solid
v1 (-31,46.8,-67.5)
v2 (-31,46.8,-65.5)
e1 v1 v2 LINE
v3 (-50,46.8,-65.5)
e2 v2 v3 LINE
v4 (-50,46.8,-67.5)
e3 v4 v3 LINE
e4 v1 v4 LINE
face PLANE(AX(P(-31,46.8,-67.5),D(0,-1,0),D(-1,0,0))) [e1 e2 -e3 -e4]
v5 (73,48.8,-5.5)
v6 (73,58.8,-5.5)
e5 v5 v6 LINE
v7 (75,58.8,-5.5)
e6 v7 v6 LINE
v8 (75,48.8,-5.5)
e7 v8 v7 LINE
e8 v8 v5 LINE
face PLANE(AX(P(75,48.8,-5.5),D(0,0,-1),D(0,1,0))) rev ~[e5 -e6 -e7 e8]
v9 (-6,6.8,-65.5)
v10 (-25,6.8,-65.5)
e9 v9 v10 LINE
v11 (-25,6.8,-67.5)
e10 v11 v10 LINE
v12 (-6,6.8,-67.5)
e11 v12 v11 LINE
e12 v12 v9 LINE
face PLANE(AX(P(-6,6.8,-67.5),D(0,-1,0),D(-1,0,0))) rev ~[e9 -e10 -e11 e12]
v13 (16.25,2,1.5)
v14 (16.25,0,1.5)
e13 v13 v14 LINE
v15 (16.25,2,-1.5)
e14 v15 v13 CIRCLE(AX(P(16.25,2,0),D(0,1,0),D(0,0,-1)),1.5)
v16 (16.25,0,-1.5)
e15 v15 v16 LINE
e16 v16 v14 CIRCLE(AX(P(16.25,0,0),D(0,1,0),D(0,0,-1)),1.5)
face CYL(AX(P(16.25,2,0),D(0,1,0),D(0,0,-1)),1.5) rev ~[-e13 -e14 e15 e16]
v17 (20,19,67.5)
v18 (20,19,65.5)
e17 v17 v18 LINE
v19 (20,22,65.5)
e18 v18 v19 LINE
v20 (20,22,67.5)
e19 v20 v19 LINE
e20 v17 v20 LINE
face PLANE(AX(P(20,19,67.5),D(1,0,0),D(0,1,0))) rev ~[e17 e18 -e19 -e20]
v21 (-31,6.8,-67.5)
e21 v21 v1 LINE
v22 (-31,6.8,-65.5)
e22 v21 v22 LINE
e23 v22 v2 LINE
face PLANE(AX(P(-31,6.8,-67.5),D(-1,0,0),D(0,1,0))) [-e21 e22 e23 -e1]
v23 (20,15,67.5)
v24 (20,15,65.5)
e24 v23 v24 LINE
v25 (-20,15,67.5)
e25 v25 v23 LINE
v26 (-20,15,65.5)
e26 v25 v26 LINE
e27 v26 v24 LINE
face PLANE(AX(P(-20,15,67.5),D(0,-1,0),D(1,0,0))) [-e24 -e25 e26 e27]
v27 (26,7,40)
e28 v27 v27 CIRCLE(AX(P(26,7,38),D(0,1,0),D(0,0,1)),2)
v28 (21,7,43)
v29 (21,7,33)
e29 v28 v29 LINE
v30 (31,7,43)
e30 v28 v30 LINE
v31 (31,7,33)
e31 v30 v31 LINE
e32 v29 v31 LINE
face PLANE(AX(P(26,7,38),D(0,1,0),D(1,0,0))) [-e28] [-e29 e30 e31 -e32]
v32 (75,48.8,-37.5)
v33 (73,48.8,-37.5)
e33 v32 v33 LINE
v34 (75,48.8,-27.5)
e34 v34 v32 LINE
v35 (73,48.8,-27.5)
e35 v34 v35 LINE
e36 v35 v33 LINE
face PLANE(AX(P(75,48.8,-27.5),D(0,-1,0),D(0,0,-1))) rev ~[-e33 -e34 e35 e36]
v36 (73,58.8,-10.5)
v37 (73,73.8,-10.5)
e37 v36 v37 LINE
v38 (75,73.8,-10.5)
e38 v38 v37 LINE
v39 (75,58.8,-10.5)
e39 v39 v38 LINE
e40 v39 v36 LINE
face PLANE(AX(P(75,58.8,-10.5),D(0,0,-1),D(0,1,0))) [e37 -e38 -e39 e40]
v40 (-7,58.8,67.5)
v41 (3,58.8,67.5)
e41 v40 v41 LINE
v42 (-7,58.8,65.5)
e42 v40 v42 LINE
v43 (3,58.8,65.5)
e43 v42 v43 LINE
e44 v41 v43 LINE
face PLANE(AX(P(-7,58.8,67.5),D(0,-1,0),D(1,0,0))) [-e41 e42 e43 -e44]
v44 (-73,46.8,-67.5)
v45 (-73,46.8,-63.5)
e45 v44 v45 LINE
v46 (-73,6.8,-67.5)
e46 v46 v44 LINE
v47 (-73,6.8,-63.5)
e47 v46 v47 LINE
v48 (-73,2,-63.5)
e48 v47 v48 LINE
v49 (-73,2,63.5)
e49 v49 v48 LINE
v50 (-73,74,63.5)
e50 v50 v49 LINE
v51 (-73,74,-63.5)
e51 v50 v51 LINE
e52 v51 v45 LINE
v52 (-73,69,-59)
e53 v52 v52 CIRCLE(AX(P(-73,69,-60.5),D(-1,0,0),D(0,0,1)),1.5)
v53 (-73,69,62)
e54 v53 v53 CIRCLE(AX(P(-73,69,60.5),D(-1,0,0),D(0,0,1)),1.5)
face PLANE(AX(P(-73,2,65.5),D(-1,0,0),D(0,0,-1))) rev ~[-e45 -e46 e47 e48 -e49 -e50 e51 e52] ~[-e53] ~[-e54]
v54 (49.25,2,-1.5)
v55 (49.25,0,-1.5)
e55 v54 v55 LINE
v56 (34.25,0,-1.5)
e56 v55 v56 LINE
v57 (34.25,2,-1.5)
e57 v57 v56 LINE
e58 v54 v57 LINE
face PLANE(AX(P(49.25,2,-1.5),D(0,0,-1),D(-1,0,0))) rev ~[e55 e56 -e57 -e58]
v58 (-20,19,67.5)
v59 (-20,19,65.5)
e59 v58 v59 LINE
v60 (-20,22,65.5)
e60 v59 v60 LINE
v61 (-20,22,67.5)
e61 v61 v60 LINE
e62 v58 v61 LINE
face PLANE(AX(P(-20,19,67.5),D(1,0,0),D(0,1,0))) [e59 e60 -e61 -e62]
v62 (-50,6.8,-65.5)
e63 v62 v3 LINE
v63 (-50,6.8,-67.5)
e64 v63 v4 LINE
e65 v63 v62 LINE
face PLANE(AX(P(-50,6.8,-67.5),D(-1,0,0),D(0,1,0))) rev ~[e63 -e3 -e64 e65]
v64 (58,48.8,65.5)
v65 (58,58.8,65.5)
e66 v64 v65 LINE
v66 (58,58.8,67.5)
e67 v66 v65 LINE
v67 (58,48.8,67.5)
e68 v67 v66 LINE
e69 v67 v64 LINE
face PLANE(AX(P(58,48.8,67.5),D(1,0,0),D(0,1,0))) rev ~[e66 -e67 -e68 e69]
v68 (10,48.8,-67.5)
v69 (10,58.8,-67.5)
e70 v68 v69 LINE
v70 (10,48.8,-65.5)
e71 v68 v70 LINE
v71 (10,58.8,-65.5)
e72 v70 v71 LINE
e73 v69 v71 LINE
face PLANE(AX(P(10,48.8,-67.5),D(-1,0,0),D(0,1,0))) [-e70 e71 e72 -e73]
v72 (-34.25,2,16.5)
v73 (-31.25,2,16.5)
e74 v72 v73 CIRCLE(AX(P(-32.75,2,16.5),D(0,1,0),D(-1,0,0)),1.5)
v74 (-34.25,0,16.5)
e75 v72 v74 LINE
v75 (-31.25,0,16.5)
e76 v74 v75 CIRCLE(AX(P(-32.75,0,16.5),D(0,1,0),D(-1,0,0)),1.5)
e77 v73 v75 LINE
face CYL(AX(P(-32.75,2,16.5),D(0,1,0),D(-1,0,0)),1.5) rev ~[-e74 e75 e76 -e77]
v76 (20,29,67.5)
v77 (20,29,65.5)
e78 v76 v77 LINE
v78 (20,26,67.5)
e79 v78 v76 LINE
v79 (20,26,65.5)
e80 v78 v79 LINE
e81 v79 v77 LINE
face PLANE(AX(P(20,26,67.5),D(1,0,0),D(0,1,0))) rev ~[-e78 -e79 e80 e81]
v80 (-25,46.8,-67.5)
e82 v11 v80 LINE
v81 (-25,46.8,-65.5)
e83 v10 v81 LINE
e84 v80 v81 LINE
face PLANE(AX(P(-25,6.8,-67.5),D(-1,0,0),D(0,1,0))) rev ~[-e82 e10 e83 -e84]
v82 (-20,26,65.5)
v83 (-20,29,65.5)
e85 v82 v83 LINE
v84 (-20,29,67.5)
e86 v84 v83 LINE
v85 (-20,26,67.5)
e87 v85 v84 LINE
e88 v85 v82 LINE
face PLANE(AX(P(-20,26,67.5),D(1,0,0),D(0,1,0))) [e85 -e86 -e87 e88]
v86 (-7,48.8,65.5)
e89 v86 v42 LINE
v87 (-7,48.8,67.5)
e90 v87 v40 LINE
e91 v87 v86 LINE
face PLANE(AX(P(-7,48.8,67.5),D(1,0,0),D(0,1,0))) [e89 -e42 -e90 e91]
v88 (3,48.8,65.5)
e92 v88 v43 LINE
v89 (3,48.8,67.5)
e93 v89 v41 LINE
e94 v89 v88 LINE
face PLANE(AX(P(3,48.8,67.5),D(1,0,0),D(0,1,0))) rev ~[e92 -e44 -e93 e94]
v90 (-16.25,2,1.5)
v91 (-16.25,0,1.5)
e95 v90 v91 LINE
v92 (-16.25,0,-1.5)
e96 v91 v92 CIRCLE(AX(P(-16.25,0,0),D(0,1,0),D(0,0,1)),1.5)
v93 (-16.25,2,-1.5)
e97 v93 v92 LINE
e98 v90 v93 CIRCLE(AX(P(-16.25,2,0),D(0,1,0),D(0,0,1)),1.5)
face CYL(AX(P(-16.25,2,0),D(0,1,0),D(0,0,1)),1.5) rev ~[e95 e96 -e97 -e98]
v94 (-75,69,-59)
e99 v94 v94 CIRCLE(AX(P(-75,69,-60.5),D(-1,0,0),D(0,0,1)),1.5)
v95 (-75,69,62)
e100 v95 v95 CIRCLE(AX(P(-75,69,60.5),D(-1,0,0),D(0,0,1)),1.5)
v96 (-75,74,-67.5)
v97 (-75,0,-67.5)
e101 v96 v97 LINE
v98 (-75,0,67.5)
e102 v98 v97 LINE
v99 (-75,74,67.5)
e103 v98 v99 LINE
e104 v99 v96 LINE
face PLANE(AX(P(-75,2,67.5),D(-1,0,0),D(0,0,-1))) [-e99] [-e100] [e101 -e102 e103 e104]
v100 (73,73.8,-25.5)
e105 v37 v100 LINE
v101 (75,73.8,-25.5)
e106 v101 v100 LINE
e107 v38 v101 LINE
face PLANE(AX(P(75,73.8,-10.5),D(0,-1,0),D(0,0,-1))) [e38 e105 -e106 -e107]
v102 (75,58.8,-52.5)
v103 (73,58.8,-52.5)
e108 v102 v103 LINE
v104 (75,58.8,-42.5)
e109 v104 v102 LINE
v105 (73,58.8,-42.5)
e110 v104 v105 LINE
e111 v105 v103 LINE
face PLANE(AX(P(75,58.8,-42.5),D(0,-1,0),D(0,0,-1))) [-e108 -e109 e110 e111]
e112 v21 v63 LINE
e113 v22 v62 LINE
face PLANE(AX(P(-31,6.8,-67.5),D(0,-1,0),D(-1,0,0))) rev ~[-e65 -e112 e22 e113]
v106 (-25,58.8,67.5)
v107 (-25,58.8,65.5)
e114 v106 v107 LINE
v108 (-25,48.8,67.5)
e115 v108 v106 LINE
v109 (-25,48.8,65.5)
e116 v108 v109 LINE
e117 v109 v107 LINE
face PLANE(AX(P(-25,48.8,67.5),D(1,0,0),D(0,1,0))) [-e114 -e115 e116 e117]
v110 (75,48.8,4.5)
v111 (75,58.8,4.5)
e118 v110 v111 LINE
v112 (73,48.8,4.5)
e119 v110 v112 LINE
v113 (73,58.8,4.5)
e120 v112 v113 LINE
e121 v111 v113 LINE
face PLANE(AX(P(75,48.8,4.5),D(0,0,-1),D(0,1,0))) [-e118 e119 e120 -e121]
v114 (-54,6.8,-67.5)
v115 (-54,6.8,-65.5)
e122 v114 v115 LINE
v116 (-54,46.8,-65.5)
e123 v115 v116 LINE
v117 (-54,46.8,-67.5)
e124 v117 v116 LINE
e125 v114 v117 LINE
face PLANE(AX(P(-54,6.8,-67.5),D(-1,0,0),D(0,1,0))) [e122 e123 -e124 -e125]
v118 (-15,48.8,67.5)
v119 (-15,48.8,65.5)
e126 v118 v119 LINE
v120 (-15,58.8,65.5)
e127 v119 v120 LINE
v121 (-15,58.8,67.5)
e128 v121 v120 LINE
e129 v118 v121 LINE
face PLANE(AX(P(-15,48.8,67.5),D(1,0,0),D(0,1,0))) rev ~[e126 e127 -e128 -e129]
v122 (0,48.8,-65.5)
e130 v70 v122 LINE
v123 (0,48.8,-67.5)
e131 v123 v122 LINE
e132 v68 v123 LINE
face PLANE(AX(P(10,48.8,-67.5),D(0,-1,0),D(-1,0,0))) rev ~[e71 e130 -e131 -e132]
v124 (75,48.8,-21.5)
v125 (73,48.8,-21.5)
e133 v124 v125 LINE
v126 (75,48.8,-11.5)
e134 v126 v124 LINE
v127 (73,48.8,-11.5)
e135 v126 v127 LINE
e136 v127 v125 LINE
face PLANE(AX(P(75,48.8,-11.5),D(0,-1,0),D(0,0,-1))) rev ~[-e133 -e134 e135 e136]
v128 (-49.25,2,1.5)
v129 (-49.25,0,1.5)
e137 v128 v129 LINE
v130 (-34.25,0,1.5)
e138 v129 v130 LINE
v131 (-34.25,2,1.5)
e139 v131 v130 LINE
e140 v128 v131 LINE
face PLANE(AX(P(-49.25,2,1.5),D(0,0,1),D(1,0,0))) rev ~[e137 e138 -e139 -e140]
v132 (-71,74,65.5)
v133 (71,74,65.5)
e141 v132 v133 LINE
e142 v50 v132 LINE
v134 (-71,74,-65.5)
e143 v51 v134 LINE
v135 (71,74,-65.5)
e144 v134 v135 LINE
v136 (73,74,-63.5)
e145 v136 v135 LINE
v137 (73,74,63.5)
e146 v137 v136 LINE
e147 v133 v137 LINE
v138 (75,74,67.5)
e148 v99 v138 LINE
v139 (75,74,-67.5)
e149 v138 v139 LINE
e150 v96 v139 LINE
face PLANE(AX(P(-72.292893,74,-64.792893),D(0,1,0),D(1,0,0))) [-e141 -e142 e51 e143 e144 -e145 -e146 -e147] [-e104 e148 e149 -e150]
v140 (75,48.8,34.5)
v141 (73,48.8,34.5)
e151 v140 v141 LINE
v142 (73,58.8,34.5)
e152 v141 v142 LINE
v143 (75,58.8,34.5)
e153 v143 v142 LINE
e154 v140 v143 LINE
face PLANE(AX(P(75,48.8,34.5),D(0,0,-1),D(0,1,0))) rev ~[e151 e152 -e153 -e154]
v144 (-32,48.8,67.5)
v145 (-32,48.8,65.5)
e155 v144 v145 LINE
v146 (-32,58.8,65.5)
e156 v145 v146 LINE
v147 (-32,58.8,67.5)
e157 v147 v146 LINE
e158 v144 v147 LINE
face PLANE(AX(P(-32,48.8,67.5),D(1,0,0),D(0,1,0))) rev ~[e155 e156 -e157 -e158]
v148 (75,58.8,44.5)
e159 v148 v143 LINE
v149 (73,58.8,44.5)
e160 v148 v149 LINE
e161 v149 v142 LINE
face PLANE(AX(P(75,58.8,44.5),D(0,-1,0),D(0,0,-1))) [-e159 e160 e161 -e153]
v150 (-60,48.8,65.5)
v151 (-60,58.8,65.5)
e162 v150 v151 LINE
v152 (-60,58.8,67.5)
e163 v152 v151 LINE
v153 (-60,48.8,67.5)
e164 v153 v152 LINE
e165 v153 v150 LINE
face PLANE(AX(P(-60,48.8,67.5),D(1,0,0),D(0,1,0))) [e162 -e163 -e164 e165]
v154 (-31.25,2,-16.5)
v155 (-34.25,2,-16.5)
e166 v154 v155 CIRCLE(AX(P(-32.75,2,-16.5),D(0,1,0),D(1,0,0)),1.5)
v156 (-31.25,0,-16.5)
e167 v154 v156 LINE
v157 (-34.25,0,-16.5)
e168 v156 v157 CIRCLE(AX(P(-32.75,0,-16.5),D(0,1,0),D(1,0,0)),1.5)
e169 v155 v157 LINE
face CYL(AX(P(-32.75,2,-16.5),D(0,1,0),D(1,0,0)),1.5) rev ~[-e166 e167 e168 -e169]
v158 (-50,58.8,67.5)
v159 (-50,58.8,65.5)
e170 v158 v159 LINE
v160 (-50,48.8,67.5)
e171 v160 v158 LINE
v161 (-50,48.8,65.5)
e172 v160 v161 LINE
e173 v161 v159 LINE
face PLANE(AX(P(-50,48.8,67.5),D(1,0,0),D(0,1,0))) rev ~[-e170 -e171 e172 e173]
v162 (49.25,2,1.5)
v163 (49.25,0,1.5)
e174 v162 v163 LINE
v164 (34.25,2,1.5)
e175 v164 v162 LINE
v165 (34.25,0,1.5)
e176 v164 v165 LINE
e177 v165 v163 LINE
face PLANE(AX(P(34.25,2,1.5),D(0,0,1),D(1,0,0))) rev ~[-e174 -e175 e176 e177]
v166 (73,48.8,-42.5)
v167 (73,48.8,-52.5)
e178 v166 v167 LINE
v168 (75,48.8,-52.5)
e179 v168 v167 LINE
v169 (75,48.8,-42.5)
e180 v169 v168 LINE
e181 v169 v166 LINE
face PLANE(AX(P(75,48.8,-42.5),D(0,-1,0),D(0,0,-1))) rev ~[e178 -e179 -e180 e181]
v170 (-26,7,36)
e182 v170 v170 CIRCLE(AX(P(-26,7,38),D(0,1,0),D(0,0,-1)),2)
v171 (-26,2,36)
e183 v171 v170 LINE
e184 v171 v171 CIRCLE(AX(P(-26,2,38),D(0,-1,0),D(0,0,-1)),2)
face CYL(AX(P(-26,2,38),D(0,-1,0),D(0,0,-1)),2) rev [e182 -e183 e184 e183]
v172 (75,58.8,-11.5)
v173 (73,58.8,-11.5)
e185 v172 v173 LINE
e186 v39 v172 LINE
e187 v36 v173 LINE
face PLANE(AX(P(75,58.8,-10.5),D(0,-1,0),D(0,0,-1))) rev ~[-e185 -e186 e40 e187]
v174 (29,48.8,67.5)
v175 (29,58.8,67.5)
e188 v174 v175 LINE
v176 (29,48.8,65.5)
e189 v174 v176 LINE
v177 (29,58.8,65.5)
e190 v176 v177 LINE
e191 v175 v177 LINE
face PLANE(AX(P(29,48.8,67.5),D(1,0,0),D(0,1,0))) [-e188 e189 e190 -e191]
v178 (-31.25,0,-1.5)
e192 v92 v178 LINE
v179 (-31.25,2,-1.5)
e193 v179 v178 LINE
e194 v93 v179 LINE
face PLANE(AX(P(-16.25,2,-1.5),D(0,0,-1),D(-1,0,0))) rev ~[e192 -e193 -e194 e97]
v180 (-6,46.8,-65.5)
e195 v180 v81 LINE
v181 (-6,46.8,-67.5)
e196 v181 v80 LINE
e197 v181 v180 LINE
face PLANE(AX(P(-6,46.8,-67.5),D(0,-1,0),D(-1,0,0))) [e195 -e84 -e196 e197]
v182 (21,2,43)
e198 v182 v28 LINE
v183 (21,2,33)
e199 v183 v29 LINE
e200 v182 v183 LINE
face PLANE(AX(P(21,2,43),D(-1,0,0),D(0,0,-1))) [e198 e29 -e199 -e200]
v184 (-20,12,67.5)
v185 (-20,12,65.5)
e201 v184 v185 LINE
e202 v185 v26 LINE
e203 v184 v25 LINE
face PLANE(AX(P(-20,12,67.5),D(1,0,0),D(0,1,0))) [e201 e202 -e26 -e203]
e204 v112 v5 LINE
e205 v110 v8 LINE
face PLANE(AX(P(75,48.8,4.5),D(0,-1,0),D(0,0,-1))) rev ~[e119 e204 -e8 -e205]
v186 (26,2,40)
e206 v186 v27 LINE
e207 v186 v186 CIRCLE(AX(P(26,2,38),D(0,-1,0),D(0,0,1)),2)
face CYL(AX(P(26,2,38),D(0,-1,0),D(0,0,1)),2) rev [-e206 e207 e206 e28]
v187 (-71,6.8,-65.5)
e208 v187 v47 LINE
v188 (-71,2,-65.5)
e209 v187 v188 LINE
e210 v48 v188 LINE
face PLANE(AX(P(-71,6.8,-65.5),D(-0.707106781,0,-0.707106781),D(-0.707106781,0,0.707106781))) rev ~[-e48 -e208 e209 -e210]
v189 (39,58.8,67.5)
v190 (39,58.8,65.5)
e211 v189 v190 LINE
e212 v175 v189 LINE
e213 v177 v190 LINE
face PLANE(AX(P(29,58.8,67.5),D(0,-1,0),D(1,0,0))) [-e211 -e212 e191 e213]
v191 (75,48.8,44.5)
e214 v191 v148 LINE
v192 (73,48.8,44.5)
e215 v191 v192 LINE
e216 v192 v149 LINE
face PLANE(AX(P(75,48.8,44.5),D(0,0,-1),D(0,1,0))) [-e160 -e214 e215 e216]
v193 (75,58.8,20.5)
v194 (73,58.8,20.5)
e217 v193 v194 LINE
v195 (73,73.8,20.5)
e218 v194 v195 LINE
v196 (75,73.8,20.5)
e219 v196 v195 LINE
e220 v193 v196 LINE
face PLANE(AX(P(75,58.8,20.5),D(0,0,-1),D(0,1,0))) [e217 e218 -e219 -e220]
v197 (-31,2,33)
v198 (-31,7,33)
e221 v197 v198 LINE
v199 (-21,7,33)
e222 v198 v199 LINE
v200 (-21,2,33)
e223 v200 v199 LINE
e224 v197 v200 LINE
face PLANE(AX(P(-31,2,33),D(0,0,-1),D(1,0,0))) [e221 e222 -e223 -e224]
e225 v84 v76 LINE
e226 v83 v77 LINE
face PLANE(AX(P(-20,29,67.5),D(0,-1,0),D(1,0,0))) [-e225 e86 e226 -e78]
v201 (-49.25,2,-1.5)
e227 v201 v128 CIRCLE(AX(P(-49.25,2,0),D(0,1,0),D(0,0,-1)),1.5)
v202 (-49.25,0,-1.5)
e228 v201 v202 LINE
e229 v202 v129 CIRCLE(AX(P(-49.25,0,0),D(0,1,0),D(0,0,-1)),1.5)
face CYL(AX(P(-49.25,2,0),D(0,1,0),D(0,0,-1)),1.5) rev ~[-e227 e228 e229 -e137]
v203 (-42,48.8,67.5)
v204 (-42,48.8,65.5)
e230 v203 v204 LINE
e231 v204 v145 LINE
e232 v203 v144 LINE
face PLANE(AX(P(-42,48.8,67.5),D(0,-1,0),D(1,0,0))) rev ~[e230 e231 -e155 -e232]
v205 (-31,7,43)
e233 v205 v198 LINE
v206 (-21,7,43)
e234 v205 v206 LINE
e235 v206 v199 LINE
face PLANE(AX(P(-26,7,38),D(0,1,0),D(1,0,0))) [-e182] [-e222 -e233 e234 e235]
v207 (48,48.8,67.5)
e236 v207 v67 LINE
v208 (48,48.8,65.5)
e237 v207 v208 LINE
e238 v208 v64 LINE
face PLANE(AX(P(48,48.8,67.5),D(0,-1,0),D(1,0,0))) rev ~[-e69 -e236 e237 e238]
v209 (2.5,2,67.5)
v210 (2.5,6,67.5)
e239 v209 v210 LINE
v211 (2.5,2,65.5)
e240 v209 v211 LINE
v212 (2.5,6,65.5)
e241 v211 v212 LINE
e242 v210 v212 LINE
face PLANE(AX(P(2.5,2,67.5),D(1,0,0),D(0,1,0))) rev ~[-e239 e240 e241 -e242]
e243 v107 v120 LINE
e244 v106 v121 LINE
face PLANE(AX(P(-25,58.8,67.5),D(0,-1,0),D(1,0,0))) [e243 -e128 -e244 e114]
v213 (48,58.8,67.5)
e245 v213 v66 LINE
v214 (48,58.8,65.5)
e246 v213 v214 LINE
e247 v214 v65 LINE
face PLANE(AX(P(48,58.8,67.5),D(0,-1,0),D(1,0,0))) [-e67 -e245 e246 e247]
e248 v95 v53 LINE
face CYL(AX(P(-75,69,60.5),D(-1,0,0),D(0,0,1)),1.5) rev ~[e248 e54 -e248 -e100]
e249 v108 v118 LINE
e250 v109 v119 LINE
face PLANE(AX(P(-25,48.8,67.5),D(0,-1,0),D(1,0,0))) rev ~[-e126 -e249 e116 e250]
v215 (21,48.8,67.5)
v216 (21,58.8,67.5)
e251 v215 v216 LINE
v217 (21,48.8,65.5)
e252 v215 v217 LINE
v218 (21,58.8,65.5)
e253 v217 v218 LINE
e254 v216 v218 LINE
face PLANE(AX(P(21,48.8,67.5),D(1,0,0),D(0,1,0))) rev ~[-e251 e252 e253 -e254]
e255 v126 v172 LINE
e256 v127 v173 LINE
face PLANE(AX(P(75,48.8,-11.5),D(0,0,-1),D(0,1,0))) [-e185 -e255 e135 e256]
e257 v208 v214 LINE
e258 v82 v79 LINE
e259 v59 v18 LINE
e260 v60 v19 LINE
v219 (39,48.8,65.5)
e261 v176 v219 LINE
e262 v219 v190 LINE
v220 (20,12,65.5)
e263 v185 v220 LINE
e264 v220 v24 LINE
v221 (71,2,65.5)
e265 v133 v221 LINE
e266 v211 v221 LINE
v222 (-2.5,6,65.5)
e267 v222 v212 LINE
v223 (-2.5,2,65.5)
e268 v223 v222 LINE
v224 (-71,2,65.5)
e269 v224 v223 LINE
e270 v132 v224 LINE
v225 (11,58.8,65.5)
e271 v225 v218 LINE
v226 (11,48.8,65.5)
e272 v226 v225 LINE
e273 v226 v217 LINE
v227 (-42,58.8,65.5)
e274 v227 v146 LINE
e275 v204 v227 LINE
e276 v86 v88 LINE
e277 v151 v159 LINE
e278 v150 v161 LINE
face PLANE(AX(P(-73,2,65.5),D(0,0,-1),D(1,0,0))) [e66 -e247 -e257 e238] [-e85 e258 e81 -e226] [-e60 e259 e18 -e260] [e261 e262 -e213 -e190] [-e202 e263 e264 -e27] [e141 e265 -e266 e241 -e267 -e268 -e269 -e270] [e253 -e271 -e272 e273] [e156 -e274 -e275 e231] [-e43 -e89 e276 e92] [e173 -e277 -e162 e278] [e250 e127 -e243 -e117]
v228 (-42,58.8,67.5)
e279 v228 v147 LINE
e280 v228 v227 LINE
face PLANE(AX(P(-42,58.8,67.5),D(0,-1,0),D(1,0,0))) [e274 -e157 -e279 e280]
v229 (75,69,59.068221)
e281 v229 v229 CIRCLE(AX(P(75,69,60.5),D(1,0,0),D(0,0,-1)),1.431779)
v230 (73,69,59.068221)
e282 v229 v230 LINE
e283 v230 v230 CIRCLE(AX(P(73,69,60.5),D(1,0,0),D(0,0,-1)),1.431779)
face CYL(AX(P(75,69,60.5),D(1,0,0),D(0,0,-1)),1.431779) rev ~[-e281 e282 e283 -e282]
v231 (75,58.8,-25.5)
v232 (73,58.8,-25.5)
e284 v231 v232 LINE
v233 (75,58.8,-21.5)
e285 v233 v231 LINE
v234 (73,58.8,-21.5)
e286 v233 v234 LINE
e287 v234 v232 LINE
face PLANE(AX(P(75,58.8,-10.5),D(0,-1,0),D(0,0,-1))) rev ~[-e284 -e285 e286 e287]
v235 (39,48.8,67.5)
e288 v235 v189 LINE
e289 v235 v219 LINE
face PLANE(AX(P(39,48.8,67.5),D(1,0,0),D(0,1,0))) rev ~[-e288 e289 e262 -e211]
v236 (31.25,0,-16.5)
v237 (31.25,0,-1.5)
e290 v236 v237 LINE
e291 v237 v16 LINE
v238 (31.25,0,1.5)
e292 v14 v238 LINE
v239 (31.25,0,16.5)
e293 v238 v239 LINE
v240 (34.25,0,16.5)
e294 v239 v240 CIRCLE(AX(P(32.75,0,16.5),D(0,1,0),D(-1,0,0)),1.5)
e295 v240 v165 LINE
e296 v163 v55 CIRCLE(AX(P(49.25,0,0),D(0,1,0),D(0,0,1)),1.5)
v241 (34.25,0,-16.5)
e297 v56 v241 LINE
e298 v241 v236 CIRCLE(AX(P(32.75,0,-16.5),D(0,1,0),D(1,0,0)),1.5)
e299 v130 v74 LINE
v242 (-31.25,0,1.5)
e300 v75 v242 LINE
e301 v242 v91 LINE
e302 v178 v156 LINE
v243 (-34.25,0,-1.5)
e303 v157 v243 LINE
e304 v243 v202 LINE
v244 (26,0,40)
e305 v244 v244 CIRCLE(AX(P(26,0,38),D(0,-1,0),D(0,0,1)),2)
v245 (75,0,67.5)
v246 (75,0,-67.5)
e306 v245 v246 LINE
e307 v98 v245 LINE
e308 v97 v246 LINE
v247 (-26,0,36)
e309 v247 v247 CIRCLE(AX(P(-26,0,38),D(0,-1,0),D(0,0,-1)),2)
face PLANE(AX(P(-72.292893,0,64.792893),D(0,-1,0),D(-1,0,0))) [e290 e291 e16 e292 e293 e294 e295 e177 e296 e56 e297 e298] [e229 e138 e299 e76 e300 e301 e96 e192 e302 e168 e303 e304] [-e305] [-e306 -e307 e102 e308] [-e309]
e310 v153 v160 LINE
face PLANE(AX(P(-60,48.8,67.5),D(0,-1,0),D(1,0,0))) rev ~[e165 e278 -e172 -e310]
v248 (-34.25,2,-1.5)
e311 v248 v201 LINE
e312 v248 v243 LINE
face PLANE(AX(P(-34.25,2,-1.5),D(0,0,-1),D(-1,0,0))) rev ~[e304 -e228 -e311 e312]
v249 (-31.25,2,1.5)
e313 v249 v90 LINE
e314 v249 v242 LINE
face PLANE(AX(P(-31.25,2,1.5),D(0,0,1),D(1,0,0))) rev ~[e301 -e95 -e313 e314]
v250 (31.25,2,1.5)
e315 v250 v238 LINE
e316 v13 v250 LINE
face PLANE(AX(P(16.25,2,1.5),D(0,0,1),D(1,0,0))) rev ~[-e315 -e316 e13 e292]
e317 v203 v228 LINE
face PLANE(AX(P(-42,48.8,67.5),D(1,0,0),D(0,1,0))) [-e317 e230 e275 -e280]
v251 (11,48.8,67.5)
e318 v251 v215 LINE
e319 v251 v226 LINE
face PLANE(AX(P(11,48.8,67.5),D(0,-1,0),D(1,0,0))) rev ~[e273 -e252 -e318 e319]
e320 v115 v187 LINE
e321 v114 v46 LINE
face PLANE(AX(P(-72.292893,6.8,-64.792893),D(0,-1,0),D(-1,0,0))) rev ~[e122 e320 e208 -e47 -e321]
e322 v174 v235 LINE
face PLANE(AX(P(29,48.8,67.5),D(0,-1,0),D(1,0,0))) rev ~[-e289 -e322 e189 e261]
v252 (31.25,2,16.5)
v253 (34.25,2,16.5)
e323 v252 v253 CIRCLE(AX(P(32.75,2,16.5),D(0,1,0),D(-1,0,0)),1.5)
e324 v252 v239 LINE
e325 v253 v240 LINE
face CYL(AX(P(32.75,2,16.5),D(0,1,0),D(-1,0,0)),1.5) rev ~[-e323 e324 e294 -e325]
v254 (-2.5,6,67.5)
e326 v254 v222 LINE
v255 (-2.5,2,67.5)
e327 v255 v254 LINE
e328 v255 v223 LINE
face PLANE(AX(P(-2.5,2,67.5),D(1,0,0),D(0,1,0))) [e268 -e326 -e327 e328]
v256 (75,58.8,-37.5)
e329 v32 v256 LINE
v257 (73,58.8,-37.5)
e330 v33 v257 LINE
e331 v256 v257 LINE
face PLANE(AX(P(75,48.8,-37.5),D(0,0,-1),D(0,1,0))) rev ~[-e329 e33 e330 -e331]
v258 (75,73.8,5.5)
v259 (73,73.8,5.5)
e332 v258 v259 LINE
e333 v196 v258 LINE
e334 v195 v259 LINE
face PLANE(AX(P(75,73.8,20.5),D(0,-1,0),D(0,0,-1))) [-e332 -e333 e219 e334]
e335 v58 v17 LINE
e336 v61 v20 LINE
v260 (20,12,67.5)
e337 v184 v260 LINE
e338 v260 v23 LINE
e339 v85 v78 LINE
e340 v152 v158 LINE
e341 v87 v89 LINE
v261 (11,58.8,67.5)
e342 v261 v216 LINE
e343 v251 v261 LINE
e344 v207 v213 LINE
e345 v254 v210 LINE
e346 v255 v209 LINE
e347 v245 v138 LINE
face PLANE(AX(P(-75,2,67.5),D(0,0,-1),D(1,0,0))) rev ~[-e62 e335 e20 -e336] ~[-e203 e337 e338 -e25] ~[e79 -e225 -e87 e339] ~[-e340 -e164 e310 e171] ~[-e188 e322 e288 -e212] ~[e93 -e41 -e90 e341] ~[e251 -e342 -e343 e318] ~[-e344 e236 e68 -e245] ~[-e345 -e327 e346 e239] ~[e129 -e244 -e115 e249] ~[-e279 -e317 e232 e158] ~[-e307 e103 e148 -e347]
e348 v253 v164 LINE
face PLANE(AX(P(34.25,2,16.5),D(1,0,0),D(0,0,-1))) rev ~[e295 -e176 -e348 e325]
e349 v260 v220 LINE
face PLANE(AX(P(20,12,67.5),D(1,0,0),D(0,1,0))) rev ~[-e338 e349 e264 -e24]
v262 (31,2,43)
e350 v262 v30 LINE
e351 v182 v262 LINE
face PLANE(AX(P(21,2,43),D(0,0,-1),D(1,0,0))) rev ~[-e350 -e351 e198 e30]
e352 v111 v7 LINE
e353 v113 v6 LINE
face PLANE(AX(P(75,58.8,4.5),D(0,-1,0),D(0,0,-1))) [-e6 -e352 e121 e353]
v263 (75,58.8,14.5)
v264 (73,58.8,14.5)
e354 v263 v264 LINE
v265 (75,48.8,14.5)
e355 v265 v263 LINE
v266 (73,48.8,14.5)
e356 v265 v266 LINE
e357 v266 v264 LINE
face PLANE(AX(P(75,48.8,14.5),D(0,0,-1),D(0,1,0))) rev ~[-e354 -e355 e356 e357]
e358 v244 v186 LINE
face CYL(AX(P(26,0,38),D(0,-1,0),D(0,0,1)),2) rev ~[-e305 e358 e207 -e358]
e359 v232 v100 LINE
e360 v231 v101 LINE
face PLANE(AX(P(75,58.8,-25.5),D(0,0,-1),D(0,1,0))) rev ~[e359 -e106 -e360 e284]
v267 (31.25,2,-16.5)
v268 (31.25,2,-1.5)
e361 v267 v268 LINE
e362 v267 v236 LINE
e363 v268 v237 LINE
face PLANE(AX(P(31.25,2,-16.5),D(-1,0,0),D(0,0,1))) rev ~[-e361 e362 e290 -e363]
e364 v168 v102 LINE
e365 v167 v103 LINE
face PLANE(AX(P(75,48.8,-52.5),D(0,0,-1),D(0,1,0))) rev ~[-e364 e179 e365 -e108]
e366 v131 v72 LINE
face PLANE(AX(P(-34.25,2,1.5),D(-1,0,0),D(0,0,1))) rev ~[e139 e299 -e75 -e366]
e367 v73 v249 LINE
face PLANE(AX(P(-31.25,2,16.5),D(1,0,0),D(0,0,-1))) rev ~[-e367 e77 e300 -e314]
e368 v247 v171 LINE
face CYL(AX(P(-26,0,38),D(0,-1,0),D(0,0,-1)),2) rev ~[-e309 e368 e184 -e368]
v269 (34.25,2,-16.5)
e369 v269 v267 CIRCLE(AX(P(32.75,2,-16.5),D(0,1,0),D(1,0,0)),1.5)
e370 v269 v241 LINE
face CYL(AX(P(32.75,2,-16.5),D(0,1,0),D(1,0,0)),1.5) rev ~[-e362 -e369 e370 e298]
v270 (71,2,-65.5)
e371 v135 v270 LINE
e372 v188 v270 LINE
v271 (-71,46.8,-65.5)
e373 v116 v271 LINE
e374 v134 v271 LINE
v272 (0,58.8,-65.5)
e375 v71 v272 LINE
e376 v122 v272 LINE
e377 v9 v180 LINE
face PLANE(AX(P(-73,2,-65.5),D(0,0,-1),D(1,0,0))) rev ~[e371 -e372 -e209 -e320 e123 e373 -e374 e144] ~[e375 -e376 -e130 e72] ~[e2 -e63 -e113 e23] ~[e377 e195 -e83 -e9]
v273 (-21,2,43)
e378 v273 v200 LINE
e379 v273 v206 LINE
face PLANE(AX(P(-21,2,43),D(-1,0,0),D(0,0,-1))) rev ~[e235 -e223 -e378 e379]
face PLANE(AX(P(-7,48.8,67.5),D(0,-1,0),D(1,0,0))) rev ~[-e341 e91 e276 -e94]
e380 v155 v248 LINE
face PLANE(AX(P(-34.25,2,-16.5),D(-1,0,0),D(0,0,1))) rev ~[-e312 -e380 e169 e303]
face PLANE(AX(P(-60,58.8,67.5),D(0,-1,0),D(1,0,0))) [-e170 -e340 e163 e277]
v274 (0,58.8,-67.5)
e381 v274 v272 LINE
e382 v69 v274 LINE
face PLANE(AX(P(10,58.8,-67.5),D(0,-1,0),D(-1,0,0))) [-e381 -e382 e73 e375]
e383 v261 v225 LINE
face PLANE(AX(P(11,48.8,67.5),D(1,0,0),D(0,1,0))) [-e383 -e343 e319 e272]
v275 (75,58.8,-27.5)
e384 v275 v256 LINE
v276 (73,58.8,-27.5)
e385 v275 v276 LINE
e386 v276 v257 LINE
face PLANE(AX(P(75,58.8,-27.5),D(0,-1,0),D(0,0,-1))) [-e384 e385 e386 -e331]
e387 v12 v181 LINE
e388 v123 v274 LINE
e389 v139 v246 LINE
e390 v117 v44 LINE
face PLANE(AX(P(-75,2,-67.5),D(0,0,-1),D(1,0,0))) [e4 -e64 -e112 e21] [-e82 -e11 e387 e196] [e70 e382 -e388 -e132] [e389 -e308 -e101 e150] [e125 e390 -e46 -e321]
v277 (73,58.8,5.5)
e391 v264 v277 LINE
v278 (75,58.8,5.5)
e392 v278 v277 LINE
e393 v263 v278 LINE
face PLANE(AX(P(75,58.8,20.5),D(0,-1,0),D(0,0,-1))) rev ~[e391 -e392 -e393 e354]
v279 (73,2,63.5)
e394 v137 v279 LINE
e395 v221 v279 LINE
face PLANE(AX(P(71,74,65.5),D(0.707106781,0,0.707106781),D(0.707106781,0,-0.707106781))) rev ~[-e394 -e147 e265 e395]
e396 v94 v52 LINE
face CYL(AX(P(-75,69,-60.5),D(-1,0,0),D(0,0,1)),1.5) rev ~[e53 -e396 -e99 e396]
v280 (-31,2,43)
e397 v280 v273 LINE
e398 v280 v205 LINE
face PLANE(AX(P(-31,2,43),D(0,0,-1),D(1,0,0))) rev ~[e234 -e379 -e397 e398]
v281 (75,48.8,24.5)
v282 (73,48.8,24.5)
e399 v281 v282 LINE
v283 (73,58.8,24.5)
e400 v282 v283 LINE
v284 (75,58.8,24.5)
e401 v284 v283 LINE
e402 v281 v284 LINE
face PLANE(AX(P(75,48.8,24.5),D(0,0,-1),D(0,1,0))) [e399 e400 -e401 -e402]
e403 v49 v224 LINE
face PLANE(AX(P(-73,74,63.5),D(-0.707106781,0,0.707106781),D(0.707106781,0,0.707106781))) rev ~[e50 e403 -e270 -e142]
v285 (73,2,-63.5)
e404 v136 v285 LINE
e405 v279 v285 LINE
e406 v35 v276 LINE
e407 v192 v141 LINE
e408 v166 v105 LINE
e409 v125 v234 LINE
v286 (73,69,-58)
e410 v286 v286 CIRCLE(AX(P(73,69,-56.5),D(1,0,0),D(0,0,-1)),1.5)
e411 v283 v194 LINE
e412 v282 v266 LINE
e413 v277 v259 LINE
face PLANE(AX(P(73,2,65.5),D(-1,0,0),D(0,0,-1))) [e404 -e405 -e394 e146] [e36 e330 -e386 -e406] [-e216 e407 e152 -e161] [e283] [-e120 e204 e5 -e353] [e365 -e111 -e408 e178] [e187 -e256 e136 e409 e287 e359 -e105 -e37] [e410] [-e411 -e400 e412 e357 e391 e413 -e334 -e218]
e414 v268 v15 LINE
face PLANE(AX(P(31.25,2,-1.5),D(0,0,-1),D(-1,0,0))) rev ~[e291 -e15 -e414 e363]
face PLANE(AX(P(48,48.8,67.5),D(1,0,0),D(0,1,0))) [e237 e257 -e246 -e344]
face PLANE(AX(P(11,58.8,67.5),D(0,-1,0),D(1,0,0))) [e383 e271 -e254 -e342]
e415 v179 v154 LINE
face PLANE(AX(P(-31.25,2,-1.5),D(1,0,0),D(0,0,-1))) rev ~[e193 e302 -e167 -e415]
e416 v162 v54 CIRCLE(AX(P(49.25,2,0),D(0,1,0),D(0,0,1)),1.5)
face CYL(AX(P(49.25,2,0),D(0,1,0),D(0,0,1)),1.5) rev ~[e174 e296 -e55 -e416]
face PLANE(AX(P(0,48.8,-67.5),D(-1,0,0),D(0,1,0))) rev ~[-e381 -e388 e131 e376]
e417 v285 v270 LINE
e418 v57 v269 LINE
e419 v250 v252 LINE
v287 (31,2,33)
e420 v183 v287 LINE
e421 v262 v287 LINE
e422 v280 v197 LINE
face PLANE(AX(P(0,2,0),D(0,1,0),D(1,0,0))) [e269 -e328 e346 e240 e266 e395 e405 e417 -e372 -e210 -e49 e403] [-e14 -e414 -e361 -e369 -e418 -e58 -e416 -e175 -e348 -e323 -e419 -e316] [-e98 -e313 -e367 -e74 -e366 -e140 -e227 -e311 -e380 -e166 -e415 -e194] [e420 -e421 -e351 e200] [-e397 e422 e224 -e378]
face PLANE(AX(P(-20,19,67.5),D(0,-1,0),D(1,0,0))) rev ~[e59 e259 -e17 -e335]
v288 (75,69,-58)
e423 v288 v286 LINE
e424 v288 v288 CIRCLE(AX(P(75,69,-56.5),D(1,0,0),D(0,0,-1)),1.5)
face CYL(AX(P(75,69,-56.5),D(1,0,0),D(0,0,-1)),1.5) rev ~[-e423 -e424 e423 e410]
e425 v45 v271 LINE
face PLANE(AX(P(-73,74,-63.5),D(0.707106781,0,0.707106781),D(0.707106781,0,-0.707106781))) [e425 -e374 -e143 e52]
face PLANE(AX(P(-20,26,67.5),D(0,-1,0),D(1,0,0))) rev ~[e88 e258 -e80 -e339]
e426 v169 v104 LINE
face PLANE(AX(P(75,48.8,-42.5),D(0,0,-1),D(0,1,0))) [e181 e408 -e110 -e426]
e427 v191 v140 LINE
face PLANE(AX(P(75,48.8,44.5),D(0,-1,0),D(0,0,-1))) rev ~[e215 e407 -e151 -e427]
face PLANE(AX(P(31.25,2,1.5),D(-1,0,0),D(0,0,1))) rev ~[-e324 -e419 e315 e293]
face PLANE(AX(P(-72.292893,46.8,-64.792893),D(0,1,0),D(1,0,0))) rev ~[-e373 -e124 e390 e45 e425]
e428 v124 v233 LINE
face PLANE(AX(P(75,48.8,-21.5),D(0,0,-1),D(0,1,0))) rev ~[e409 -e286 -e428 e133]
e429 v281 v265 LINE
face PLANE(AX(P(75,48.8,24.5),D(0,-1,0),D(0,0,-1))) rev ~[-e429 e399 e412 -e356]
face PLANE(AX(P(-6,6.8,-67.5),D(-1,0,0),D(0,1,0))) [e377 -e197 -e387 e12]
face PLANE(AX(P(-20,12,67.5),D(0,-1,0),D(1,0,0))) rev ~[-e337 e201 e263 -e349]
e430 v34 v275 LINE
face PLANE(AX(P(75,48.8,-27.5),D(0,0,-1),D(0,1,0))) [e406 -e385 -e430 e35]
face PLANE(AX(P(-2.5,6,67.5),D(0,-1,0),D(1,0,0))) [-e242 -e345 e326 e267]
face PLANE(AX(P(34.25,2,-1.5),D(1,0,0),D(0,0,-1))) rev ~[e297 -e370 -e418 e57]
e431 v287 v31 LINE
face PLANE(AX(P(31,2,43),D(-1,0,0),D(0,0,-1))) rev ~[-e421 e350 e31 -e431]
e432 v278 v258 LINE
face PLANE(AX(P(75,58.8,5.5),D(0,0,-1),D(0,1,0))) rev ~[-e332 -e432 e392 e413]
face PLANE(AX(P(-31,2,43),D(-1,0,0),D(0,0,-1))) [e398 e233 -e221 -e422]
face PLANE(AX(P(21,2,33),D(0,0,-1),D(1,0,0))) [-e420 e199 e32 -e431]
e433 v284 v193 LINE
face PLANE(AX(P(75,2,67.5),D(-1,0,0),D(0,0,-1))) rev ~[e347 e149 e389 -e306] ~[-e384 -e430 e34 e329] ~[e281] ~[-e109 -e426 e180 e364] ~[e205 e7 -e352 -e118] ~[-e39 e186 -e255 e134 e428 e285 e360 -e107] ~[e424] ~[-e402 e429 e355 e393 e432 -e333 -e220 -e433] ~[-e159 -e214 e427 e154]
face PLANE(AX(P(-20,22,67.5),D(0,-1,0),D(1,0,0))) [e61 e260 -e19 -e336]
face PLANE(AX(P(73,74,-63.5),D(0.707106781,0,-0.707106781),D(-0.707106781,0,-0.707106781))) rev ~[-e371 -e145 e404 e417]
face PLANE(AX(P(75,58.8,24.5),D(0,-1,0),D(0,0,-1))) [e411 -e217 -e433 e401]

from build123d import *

# Parameters (mm, degrees)
CROQUIS1_W              = 150
CROQUIS1_H              = 135
SALIENTE_EXTRUIR1_DEPTH = 2
CORTAR_EXTRUIR2_DEPTH   = 2
CROQUIS4_W              = 150
CROQUIS4_H              = 135
CROQUIS4_W_2            = 146
CROQUIS4_H_2            = 131
SALIENTE_EXTRUIR3_DEPTH = 72
CROQUIS5_R              = 1.5
CORTAR_EXTRUIR3_DEPTH   = 2
CROQUIS6_R              = 1.5
CORTAR_EXTRUIR4_DEPTH   = 2
CROQUIS7_R              = 1.5
CORTAR_EXTRUIR5_DEPTH   = 2
CROQUIS8_R              = 1.43177866
CORTAR_EXTRUIR6_DEPTH   = 2
CROQUIS9_W              = 10
CROQUIS9_H              = 10
CORTAR_EXTRUIR7_DEPTH   = 2
CROQUIS10_W             = 10
CROQUIS10_H             = 10
CORTAR_EXTRUIR8_DEPTH   = 2
CROQUIS11_W             = 10
CROQUIS11_H             = 10
CROQUIS11_W_2           = 19
CROQUIS11_H_2           = 40
CORTAR_EXTRUIR9_DEPTH   = 2
CROQUIS13_R             = 2
CORTAR_EXTRUIR11_DEPTH  = 2
CROQUIS14_W             = 10
CROQUIS14_H             = 10
CROQUIS14_R             = 2
SALIENTE_EXTRUIR4_DEPTH = 5
CROQUIS15_W             = 5
CROQUIS15_H             = 4
CROQUIS15_W_2           = 40
CROQUIS15_H_2           = 3
CORTAR_EXTRUIR12_DEPTH  = 2
CROQUIS12_W             = 15
CROQUIS12_H             = 15
CORTAR_EXTRUIR13_DEPTH  = 2
SALIENTE_EXTRUIR5_DEPTH = 74
SALIENTE_EXTRUIR6_DEPTH = 27.2
SALIENTE_EXTRUIR7_REACH = 123.232


with BuildPart() as part:
    # Croquis1 → Saliente-Extruir1 (new body)
    with BuildSketch(Plane(origin=(0, 0, 0), x_dir=(1, 0, 0), z_dir=(0, 1, 0))):
        Rectangle(CROQUIS1_W, CROQUIS1_H)
    extrude(amount=SALIENTE_EXTRUIR1_DEPTH)

    # Croquis2 → Cortar-Extruir2 (cut)
    with BuildSketch(Plane(origin=(0, 2, 0), x_dir=(1, 0, 0), z_dir=(0, 1, 0))):
        with BuildLine():
            Line((31.25, 16.5), (31.25, 1.5))
            Line((31.25, 1.5), (16.25, 1.5))
            ThreePointArc((16.25, 1.5), (14.75, 0), (16.25, -1.5))
            Line((16.25, -1.5), (31.25, -1.5))
            Line((31.25, -1.5), (31.25, -16.5))
            ThreePointArc((31.25, -16.5), (32.75, -18), (34.25, -16.5))
            Line((34.25, -16.5), (34.25, -1.5))
            Line((34.25, -1.5), (49.25, -1.5))
            ThreePointArc((49.25, -1.5), (50.75, 0), (49.25, 1.5))
            Line((49.25, 1.5), (34.25, 1.5))
            Line((34.25, 1.5), (34.25, 16.5))
            ThreePointArc((34.25, 16.5), (32.75, 18), (31.25, 16.5))
        make_face()
        with BuildLine():
            Line((-31.25, -16.5), (-31.25, -1.5))
            Line((-31.25, -1.5), (-16.25, -1.5))
            ThreePointArc((-16.25, -1.5), (-14.75, 0), (-16.25, 1.5))
            Line((-16.25, 1.5), (-31.25, 1.5))
            Line((-31.25, 1.5), (-31.25, 16.5))
            ThreePointArc((-31.25, 16.5), (-32.75, 18), (-34.25, 16.5))
            Line((-34.25, 16.5), (-34.25, 1.5))
            Line((-34.25, 1.5), (-49.25, 1.5))
            ThreePointArc((-49.25, 1.5), (-50.75, 0), (-49.25, -1.5))
            Line((-49.25, -1.5), (-34.25, -1.5))
            Line((-34.25, -1.5), (-34.25, -16.5))
            ThreePointArc((-34.25, -16.5), (-32.75, -18), (-31.25, -16.5))
        make_face()
    extrude(amount=-CORTAR_EXTRUIR2_DEPTH, mode=Mode.SUBTRACT)

    # Croquis4 → Saliente-Extruir3 (add)
    with BuildSketch(Plane(origin=(0, 2, 0), x_dir=(1, 0, 0), z_dir=(0, 1, 0))):
        Rectangle(CROQUIS4_W, CROQUIS4_H)
        Rectangle(CROQUIS4_W_2, CROQUIS4_H_2, mode=Mode.SUBTRACT)
    extrude(amount=SALIENTE_EXTRUIR3_DEPTH)

    # Croquis5 → Cortar-Extruir3 (cut)
    with BuildSketch(Plane.ZY.offset(75)):
        with Locations((-60.5, 69)):
            Circle(CROQUIS5_R)
    extrude(amount=-CORTAR_EXTRUIR3_DEPTH, mode=Mode.SUBTRACT)

    # Croquis6 → Cortar-Extruir4 (cut)
    with BuildSketch(Plane.ZY.offset(75)):
        with Locations((60.5, 69)):
            Circle(CROQUIS6_R)
    extrude(amount=-CORTAR_EXTRUIR4_DEPTH, mode=Mode.SUBTRACT)

    # Croquis7 → Cortar-Extruir5 (cut)
    with BuildSketch(Plane(origin=(75, 0, 0), x_dir=(0, 0, -1), z_dir=(1, 0, 0))):
        with Locations((56.5, 69)):
            Circle(CROQUIS7_R)
    extrude(amount=-CORTAR_EXTRUIR5_DEPTH, mode=Mode.SUBTRACT)

    # Croquis8 → Cortar-Extruir6 (cut)
    with BuildSketch(Plane(origin=(75, 0, 0), x_dir=(0, 0, -1), z_dir=(1, 0, 0))):
        with Locations((-60.5, 69)):
            Circle(CROQUIS8_R)
    extrude(amount=-CORTAR_EXTRUIR6_DEPTH, mode=Mode.SUBTRACT)

    # Croquis9 → Cortar-Extruir7 (cut)
    with BuildSketch(Plane.XY.offset(67.5)):
        with Locations((-2, 53.8)):
            Rectangle(CROQUIS9_W, CROQUIS9_H)
        with Locations((-55, 53.8)):
            Rectangle(CROQUIS9_W, CROQUIS9_H)
        with Locations((-37, 53.8)):
            Rectangle(CROQUIS9_W, CROQUIS9_H)
        with Locations((-20, 53.8)):
            Rectangle(CROQUIS9_W, CROQUIS9_H)
        with Locations((16, 53.8)):
            Rectangle(CROQUIS9_W, CROQUIS9_H)
        with Locations((34, 53.8)):
            Rectangle(CROQUIS9_W, CROQUIS9_H)
        with Locations((53, 53.8)):
            Rectangle(CROQUIS9_W, CROQUIS9_H)
    extrude(amount=-CORTAR_EXTRUIR7_DEPTH, mode=Mode.SUBTRACT)

    # Croquis10 → Cortar-Extruir8 (cut)
    with BuildSketch(Plane(origin=(75, 0, 0), x_dir=(0, 0, -1), z_dir=(1, 0, 0))):
        with Locations((16.5, 53.8)):
            Rectangle(CROQUIS10_W, CROQUIS10_H)
        with Locations((-39.5, 53.8)):
            Rectangle(CROQUIS10_W, CROQUIS10_H)
        with Locations((-19.5, 53.8)):
            Rectangle(CROQUIS10_W, CROQUIS10_H)
        with Locations((0.5, 53.8)):
            Rectangle(CROQUIS10_W, CROQUIS10_H)
        with Locations((32.5, 53.8)):
            Rectangle(CROQUIS10_W, CROQUIS10_H)
        with Locations((47.5, 53.8)):
            Rectangle(CROQUIS10_W, CROQUIS10_H)
    extrude(amount=-CORTAR_EXTRUIR8_DEPTH, mode=Mode.SUBTRACT)

    # Croquis11 → Cortar-Extruir9 (cut)
    with BuildSketch(Plane(origin=(0, 0, -67.5), x_dir=(-1, 0, 0), z_dir=(0, 0, -1))):
        with Locations((-5, 53.8)):
            Rectangle(CROQUIS11_W, CROQUIS11_H)
        with Locations((15.5, 26.8)):
            Rectangle(CROQUIS11_W_2, CROQUIS11_H_2)
        with Locations((40.5, 26.8)):
            Rectangle(CROQUIS11_W_2, CROQUIS11_H_2)
        with Locations((63.5, 26.8)):
            Rectangle(CROQUIS11_W_2, CROQUIS11_H_2)
    extrude(amount=-CORTAR_EXTRUIR9_DEPTH, mode=Mode.SUBTRACT)

    # Croquis13 → Cortar-Extruir11 (cut)
    with BuildSketch(Plane.XZ):
        with Locations(Location((-26, 38, 0), (0, 0, 270))):
            Circle(CROQUIS13_R)
        with Locations(Location((26, 38, 0), (0, 0, 90))):
            Circle(CROQUIS13_R)
    extrude(amount=-CORTAR_EXTRUIR11_DEPTH, mode=Mode.SUBTRACT)

    # Croquis14 → Saliente-Extruir4 (add)
    # profile 1 of 2: a face of its own
    with BuildSketch(Plane(origin=(0, 2, 0), x_dir=(1, 0, 0), z_dir=(0, 1, 0))):
        with Locations((26, -38)):
            Rectangle(CROQUIS14_W, CROQUIS14_H)
        with Locations(Location((26, -38, 0), (0, 0, 270))):
            Circle(CROQUIS14_R, mode=Mode.SUBTRACT)
    # profile 2 of 2: a face of its own
    with BuildSketch(Plane(origin=(0, 2, 0), x_dir=(1, 0, 0), z_dir=(0, 1, 0))):
        with Locations((-26, -38)):
            Rectangle(CROQUIS14_W, CROQUIS14_H)
        with Locations(Location((-26, -38, 0), (0, 0, 90))):
            Circle(CROQUIS14_R, mode=Mode.SUBTRACT)
    extrude(amount=SALIENTE_EXTRUIR4_DEPTH)

    # Croquis15 → Cortar-Extruir12 (cut)
    with BuildSketch(Plane.XY.offset(67.5)):
        with Locations((0, 4)):
            Rectangle(CROQUIS15_W, CROQUIS15_H)
        with Locations((0, 13.5)):
            Rectangle(CROQUIS15_W_2, CROQUIS15_H_2)
        with Locations((0, 20.5)):
            Rectangle(CROQUIS15_W_2, CROQUIS15_H_2)
        with Locations((0, 27.5)):
            Rectangle(CROQUIS15_W_2, CROQUIS15_H_2)
    extrude(amount=-CORTAR_EXTRUIR12_DEPTH, mode=Mode.SUBTRACT)

    # Croquis12 → Cortar-Extruir13 (cut)
    with BuildSketch(Plane(origin=(75, 0, 0), x_dir=(0, 0, -1), z_dir=(1, 0, 0))):
        with Locations((18, 66.3)):
            Rectangle(CROQUIS12_W, CROQUIS12_H)
        with Locations((-13, 66.3)):
            Rectangle(CROQUIS12_W, CROQUIS12_H)
    extrude(amount=-CORTAR_EXTRUIR13_DEPTH, mode=Mode.SUBTRACT)

    # Croquis16 → Saliente-Extruir5 (add)
    with BuildSketch(Plane(origin=(0, 74, 0), x_dir=(1, 0, 0), z_dir=(0, 1, 0))):
        Polygon((-73, -65.5), (-73, -63.5), (-71, -65.5), align=None)
        Polygon((73, -65.5), (71, -65.5), (73, -63.5), align=None)
        Polygon((73, 65.5), (73, 63.5), (71, 65.5), align=None)
    extrude(amount=-SALIENTE_EXTRUIR5_DEPTH)

    # Croquis17 → Saliente-Extruir6 (add)
    with BuildSketch(Plane(origin=(0, 74, 0), x_dir=(1, 0, 0), z_dir=(0, 1, 0))):
        Polygon((-73, 65.5), (-73, 63.5), (-71, 65.5), align=None)
    extrude(amount=-SALIENTE_EXTRUIR6_DEPTH)

    # Croquis18 → Saliente-Extruir7 (add, up to next)
    with BuildSketch(Plane(origin=(0, 6.8, 0), x_dir=(1, 0, 0), z_dir=(0, 1, 0)), mode=Mode.PRIVATE) as saliente_extruir7_sk1:
        Polygon((-73, 65.5), (-71, 65.5), (-73, 63.5), align=None)
    saliente_extruir7_tool1 = extrude(saliente_extruir7_sk1.sketch, amount=-SALIENTE_EXTRUIR7_REACH, mode=Mode.PRIVATE) - part.part
    add(saliente_extruir7_tool1.solids().sort_by_distance((-72.333333, 6.8, -64.833333))[0])


solid = part.part
